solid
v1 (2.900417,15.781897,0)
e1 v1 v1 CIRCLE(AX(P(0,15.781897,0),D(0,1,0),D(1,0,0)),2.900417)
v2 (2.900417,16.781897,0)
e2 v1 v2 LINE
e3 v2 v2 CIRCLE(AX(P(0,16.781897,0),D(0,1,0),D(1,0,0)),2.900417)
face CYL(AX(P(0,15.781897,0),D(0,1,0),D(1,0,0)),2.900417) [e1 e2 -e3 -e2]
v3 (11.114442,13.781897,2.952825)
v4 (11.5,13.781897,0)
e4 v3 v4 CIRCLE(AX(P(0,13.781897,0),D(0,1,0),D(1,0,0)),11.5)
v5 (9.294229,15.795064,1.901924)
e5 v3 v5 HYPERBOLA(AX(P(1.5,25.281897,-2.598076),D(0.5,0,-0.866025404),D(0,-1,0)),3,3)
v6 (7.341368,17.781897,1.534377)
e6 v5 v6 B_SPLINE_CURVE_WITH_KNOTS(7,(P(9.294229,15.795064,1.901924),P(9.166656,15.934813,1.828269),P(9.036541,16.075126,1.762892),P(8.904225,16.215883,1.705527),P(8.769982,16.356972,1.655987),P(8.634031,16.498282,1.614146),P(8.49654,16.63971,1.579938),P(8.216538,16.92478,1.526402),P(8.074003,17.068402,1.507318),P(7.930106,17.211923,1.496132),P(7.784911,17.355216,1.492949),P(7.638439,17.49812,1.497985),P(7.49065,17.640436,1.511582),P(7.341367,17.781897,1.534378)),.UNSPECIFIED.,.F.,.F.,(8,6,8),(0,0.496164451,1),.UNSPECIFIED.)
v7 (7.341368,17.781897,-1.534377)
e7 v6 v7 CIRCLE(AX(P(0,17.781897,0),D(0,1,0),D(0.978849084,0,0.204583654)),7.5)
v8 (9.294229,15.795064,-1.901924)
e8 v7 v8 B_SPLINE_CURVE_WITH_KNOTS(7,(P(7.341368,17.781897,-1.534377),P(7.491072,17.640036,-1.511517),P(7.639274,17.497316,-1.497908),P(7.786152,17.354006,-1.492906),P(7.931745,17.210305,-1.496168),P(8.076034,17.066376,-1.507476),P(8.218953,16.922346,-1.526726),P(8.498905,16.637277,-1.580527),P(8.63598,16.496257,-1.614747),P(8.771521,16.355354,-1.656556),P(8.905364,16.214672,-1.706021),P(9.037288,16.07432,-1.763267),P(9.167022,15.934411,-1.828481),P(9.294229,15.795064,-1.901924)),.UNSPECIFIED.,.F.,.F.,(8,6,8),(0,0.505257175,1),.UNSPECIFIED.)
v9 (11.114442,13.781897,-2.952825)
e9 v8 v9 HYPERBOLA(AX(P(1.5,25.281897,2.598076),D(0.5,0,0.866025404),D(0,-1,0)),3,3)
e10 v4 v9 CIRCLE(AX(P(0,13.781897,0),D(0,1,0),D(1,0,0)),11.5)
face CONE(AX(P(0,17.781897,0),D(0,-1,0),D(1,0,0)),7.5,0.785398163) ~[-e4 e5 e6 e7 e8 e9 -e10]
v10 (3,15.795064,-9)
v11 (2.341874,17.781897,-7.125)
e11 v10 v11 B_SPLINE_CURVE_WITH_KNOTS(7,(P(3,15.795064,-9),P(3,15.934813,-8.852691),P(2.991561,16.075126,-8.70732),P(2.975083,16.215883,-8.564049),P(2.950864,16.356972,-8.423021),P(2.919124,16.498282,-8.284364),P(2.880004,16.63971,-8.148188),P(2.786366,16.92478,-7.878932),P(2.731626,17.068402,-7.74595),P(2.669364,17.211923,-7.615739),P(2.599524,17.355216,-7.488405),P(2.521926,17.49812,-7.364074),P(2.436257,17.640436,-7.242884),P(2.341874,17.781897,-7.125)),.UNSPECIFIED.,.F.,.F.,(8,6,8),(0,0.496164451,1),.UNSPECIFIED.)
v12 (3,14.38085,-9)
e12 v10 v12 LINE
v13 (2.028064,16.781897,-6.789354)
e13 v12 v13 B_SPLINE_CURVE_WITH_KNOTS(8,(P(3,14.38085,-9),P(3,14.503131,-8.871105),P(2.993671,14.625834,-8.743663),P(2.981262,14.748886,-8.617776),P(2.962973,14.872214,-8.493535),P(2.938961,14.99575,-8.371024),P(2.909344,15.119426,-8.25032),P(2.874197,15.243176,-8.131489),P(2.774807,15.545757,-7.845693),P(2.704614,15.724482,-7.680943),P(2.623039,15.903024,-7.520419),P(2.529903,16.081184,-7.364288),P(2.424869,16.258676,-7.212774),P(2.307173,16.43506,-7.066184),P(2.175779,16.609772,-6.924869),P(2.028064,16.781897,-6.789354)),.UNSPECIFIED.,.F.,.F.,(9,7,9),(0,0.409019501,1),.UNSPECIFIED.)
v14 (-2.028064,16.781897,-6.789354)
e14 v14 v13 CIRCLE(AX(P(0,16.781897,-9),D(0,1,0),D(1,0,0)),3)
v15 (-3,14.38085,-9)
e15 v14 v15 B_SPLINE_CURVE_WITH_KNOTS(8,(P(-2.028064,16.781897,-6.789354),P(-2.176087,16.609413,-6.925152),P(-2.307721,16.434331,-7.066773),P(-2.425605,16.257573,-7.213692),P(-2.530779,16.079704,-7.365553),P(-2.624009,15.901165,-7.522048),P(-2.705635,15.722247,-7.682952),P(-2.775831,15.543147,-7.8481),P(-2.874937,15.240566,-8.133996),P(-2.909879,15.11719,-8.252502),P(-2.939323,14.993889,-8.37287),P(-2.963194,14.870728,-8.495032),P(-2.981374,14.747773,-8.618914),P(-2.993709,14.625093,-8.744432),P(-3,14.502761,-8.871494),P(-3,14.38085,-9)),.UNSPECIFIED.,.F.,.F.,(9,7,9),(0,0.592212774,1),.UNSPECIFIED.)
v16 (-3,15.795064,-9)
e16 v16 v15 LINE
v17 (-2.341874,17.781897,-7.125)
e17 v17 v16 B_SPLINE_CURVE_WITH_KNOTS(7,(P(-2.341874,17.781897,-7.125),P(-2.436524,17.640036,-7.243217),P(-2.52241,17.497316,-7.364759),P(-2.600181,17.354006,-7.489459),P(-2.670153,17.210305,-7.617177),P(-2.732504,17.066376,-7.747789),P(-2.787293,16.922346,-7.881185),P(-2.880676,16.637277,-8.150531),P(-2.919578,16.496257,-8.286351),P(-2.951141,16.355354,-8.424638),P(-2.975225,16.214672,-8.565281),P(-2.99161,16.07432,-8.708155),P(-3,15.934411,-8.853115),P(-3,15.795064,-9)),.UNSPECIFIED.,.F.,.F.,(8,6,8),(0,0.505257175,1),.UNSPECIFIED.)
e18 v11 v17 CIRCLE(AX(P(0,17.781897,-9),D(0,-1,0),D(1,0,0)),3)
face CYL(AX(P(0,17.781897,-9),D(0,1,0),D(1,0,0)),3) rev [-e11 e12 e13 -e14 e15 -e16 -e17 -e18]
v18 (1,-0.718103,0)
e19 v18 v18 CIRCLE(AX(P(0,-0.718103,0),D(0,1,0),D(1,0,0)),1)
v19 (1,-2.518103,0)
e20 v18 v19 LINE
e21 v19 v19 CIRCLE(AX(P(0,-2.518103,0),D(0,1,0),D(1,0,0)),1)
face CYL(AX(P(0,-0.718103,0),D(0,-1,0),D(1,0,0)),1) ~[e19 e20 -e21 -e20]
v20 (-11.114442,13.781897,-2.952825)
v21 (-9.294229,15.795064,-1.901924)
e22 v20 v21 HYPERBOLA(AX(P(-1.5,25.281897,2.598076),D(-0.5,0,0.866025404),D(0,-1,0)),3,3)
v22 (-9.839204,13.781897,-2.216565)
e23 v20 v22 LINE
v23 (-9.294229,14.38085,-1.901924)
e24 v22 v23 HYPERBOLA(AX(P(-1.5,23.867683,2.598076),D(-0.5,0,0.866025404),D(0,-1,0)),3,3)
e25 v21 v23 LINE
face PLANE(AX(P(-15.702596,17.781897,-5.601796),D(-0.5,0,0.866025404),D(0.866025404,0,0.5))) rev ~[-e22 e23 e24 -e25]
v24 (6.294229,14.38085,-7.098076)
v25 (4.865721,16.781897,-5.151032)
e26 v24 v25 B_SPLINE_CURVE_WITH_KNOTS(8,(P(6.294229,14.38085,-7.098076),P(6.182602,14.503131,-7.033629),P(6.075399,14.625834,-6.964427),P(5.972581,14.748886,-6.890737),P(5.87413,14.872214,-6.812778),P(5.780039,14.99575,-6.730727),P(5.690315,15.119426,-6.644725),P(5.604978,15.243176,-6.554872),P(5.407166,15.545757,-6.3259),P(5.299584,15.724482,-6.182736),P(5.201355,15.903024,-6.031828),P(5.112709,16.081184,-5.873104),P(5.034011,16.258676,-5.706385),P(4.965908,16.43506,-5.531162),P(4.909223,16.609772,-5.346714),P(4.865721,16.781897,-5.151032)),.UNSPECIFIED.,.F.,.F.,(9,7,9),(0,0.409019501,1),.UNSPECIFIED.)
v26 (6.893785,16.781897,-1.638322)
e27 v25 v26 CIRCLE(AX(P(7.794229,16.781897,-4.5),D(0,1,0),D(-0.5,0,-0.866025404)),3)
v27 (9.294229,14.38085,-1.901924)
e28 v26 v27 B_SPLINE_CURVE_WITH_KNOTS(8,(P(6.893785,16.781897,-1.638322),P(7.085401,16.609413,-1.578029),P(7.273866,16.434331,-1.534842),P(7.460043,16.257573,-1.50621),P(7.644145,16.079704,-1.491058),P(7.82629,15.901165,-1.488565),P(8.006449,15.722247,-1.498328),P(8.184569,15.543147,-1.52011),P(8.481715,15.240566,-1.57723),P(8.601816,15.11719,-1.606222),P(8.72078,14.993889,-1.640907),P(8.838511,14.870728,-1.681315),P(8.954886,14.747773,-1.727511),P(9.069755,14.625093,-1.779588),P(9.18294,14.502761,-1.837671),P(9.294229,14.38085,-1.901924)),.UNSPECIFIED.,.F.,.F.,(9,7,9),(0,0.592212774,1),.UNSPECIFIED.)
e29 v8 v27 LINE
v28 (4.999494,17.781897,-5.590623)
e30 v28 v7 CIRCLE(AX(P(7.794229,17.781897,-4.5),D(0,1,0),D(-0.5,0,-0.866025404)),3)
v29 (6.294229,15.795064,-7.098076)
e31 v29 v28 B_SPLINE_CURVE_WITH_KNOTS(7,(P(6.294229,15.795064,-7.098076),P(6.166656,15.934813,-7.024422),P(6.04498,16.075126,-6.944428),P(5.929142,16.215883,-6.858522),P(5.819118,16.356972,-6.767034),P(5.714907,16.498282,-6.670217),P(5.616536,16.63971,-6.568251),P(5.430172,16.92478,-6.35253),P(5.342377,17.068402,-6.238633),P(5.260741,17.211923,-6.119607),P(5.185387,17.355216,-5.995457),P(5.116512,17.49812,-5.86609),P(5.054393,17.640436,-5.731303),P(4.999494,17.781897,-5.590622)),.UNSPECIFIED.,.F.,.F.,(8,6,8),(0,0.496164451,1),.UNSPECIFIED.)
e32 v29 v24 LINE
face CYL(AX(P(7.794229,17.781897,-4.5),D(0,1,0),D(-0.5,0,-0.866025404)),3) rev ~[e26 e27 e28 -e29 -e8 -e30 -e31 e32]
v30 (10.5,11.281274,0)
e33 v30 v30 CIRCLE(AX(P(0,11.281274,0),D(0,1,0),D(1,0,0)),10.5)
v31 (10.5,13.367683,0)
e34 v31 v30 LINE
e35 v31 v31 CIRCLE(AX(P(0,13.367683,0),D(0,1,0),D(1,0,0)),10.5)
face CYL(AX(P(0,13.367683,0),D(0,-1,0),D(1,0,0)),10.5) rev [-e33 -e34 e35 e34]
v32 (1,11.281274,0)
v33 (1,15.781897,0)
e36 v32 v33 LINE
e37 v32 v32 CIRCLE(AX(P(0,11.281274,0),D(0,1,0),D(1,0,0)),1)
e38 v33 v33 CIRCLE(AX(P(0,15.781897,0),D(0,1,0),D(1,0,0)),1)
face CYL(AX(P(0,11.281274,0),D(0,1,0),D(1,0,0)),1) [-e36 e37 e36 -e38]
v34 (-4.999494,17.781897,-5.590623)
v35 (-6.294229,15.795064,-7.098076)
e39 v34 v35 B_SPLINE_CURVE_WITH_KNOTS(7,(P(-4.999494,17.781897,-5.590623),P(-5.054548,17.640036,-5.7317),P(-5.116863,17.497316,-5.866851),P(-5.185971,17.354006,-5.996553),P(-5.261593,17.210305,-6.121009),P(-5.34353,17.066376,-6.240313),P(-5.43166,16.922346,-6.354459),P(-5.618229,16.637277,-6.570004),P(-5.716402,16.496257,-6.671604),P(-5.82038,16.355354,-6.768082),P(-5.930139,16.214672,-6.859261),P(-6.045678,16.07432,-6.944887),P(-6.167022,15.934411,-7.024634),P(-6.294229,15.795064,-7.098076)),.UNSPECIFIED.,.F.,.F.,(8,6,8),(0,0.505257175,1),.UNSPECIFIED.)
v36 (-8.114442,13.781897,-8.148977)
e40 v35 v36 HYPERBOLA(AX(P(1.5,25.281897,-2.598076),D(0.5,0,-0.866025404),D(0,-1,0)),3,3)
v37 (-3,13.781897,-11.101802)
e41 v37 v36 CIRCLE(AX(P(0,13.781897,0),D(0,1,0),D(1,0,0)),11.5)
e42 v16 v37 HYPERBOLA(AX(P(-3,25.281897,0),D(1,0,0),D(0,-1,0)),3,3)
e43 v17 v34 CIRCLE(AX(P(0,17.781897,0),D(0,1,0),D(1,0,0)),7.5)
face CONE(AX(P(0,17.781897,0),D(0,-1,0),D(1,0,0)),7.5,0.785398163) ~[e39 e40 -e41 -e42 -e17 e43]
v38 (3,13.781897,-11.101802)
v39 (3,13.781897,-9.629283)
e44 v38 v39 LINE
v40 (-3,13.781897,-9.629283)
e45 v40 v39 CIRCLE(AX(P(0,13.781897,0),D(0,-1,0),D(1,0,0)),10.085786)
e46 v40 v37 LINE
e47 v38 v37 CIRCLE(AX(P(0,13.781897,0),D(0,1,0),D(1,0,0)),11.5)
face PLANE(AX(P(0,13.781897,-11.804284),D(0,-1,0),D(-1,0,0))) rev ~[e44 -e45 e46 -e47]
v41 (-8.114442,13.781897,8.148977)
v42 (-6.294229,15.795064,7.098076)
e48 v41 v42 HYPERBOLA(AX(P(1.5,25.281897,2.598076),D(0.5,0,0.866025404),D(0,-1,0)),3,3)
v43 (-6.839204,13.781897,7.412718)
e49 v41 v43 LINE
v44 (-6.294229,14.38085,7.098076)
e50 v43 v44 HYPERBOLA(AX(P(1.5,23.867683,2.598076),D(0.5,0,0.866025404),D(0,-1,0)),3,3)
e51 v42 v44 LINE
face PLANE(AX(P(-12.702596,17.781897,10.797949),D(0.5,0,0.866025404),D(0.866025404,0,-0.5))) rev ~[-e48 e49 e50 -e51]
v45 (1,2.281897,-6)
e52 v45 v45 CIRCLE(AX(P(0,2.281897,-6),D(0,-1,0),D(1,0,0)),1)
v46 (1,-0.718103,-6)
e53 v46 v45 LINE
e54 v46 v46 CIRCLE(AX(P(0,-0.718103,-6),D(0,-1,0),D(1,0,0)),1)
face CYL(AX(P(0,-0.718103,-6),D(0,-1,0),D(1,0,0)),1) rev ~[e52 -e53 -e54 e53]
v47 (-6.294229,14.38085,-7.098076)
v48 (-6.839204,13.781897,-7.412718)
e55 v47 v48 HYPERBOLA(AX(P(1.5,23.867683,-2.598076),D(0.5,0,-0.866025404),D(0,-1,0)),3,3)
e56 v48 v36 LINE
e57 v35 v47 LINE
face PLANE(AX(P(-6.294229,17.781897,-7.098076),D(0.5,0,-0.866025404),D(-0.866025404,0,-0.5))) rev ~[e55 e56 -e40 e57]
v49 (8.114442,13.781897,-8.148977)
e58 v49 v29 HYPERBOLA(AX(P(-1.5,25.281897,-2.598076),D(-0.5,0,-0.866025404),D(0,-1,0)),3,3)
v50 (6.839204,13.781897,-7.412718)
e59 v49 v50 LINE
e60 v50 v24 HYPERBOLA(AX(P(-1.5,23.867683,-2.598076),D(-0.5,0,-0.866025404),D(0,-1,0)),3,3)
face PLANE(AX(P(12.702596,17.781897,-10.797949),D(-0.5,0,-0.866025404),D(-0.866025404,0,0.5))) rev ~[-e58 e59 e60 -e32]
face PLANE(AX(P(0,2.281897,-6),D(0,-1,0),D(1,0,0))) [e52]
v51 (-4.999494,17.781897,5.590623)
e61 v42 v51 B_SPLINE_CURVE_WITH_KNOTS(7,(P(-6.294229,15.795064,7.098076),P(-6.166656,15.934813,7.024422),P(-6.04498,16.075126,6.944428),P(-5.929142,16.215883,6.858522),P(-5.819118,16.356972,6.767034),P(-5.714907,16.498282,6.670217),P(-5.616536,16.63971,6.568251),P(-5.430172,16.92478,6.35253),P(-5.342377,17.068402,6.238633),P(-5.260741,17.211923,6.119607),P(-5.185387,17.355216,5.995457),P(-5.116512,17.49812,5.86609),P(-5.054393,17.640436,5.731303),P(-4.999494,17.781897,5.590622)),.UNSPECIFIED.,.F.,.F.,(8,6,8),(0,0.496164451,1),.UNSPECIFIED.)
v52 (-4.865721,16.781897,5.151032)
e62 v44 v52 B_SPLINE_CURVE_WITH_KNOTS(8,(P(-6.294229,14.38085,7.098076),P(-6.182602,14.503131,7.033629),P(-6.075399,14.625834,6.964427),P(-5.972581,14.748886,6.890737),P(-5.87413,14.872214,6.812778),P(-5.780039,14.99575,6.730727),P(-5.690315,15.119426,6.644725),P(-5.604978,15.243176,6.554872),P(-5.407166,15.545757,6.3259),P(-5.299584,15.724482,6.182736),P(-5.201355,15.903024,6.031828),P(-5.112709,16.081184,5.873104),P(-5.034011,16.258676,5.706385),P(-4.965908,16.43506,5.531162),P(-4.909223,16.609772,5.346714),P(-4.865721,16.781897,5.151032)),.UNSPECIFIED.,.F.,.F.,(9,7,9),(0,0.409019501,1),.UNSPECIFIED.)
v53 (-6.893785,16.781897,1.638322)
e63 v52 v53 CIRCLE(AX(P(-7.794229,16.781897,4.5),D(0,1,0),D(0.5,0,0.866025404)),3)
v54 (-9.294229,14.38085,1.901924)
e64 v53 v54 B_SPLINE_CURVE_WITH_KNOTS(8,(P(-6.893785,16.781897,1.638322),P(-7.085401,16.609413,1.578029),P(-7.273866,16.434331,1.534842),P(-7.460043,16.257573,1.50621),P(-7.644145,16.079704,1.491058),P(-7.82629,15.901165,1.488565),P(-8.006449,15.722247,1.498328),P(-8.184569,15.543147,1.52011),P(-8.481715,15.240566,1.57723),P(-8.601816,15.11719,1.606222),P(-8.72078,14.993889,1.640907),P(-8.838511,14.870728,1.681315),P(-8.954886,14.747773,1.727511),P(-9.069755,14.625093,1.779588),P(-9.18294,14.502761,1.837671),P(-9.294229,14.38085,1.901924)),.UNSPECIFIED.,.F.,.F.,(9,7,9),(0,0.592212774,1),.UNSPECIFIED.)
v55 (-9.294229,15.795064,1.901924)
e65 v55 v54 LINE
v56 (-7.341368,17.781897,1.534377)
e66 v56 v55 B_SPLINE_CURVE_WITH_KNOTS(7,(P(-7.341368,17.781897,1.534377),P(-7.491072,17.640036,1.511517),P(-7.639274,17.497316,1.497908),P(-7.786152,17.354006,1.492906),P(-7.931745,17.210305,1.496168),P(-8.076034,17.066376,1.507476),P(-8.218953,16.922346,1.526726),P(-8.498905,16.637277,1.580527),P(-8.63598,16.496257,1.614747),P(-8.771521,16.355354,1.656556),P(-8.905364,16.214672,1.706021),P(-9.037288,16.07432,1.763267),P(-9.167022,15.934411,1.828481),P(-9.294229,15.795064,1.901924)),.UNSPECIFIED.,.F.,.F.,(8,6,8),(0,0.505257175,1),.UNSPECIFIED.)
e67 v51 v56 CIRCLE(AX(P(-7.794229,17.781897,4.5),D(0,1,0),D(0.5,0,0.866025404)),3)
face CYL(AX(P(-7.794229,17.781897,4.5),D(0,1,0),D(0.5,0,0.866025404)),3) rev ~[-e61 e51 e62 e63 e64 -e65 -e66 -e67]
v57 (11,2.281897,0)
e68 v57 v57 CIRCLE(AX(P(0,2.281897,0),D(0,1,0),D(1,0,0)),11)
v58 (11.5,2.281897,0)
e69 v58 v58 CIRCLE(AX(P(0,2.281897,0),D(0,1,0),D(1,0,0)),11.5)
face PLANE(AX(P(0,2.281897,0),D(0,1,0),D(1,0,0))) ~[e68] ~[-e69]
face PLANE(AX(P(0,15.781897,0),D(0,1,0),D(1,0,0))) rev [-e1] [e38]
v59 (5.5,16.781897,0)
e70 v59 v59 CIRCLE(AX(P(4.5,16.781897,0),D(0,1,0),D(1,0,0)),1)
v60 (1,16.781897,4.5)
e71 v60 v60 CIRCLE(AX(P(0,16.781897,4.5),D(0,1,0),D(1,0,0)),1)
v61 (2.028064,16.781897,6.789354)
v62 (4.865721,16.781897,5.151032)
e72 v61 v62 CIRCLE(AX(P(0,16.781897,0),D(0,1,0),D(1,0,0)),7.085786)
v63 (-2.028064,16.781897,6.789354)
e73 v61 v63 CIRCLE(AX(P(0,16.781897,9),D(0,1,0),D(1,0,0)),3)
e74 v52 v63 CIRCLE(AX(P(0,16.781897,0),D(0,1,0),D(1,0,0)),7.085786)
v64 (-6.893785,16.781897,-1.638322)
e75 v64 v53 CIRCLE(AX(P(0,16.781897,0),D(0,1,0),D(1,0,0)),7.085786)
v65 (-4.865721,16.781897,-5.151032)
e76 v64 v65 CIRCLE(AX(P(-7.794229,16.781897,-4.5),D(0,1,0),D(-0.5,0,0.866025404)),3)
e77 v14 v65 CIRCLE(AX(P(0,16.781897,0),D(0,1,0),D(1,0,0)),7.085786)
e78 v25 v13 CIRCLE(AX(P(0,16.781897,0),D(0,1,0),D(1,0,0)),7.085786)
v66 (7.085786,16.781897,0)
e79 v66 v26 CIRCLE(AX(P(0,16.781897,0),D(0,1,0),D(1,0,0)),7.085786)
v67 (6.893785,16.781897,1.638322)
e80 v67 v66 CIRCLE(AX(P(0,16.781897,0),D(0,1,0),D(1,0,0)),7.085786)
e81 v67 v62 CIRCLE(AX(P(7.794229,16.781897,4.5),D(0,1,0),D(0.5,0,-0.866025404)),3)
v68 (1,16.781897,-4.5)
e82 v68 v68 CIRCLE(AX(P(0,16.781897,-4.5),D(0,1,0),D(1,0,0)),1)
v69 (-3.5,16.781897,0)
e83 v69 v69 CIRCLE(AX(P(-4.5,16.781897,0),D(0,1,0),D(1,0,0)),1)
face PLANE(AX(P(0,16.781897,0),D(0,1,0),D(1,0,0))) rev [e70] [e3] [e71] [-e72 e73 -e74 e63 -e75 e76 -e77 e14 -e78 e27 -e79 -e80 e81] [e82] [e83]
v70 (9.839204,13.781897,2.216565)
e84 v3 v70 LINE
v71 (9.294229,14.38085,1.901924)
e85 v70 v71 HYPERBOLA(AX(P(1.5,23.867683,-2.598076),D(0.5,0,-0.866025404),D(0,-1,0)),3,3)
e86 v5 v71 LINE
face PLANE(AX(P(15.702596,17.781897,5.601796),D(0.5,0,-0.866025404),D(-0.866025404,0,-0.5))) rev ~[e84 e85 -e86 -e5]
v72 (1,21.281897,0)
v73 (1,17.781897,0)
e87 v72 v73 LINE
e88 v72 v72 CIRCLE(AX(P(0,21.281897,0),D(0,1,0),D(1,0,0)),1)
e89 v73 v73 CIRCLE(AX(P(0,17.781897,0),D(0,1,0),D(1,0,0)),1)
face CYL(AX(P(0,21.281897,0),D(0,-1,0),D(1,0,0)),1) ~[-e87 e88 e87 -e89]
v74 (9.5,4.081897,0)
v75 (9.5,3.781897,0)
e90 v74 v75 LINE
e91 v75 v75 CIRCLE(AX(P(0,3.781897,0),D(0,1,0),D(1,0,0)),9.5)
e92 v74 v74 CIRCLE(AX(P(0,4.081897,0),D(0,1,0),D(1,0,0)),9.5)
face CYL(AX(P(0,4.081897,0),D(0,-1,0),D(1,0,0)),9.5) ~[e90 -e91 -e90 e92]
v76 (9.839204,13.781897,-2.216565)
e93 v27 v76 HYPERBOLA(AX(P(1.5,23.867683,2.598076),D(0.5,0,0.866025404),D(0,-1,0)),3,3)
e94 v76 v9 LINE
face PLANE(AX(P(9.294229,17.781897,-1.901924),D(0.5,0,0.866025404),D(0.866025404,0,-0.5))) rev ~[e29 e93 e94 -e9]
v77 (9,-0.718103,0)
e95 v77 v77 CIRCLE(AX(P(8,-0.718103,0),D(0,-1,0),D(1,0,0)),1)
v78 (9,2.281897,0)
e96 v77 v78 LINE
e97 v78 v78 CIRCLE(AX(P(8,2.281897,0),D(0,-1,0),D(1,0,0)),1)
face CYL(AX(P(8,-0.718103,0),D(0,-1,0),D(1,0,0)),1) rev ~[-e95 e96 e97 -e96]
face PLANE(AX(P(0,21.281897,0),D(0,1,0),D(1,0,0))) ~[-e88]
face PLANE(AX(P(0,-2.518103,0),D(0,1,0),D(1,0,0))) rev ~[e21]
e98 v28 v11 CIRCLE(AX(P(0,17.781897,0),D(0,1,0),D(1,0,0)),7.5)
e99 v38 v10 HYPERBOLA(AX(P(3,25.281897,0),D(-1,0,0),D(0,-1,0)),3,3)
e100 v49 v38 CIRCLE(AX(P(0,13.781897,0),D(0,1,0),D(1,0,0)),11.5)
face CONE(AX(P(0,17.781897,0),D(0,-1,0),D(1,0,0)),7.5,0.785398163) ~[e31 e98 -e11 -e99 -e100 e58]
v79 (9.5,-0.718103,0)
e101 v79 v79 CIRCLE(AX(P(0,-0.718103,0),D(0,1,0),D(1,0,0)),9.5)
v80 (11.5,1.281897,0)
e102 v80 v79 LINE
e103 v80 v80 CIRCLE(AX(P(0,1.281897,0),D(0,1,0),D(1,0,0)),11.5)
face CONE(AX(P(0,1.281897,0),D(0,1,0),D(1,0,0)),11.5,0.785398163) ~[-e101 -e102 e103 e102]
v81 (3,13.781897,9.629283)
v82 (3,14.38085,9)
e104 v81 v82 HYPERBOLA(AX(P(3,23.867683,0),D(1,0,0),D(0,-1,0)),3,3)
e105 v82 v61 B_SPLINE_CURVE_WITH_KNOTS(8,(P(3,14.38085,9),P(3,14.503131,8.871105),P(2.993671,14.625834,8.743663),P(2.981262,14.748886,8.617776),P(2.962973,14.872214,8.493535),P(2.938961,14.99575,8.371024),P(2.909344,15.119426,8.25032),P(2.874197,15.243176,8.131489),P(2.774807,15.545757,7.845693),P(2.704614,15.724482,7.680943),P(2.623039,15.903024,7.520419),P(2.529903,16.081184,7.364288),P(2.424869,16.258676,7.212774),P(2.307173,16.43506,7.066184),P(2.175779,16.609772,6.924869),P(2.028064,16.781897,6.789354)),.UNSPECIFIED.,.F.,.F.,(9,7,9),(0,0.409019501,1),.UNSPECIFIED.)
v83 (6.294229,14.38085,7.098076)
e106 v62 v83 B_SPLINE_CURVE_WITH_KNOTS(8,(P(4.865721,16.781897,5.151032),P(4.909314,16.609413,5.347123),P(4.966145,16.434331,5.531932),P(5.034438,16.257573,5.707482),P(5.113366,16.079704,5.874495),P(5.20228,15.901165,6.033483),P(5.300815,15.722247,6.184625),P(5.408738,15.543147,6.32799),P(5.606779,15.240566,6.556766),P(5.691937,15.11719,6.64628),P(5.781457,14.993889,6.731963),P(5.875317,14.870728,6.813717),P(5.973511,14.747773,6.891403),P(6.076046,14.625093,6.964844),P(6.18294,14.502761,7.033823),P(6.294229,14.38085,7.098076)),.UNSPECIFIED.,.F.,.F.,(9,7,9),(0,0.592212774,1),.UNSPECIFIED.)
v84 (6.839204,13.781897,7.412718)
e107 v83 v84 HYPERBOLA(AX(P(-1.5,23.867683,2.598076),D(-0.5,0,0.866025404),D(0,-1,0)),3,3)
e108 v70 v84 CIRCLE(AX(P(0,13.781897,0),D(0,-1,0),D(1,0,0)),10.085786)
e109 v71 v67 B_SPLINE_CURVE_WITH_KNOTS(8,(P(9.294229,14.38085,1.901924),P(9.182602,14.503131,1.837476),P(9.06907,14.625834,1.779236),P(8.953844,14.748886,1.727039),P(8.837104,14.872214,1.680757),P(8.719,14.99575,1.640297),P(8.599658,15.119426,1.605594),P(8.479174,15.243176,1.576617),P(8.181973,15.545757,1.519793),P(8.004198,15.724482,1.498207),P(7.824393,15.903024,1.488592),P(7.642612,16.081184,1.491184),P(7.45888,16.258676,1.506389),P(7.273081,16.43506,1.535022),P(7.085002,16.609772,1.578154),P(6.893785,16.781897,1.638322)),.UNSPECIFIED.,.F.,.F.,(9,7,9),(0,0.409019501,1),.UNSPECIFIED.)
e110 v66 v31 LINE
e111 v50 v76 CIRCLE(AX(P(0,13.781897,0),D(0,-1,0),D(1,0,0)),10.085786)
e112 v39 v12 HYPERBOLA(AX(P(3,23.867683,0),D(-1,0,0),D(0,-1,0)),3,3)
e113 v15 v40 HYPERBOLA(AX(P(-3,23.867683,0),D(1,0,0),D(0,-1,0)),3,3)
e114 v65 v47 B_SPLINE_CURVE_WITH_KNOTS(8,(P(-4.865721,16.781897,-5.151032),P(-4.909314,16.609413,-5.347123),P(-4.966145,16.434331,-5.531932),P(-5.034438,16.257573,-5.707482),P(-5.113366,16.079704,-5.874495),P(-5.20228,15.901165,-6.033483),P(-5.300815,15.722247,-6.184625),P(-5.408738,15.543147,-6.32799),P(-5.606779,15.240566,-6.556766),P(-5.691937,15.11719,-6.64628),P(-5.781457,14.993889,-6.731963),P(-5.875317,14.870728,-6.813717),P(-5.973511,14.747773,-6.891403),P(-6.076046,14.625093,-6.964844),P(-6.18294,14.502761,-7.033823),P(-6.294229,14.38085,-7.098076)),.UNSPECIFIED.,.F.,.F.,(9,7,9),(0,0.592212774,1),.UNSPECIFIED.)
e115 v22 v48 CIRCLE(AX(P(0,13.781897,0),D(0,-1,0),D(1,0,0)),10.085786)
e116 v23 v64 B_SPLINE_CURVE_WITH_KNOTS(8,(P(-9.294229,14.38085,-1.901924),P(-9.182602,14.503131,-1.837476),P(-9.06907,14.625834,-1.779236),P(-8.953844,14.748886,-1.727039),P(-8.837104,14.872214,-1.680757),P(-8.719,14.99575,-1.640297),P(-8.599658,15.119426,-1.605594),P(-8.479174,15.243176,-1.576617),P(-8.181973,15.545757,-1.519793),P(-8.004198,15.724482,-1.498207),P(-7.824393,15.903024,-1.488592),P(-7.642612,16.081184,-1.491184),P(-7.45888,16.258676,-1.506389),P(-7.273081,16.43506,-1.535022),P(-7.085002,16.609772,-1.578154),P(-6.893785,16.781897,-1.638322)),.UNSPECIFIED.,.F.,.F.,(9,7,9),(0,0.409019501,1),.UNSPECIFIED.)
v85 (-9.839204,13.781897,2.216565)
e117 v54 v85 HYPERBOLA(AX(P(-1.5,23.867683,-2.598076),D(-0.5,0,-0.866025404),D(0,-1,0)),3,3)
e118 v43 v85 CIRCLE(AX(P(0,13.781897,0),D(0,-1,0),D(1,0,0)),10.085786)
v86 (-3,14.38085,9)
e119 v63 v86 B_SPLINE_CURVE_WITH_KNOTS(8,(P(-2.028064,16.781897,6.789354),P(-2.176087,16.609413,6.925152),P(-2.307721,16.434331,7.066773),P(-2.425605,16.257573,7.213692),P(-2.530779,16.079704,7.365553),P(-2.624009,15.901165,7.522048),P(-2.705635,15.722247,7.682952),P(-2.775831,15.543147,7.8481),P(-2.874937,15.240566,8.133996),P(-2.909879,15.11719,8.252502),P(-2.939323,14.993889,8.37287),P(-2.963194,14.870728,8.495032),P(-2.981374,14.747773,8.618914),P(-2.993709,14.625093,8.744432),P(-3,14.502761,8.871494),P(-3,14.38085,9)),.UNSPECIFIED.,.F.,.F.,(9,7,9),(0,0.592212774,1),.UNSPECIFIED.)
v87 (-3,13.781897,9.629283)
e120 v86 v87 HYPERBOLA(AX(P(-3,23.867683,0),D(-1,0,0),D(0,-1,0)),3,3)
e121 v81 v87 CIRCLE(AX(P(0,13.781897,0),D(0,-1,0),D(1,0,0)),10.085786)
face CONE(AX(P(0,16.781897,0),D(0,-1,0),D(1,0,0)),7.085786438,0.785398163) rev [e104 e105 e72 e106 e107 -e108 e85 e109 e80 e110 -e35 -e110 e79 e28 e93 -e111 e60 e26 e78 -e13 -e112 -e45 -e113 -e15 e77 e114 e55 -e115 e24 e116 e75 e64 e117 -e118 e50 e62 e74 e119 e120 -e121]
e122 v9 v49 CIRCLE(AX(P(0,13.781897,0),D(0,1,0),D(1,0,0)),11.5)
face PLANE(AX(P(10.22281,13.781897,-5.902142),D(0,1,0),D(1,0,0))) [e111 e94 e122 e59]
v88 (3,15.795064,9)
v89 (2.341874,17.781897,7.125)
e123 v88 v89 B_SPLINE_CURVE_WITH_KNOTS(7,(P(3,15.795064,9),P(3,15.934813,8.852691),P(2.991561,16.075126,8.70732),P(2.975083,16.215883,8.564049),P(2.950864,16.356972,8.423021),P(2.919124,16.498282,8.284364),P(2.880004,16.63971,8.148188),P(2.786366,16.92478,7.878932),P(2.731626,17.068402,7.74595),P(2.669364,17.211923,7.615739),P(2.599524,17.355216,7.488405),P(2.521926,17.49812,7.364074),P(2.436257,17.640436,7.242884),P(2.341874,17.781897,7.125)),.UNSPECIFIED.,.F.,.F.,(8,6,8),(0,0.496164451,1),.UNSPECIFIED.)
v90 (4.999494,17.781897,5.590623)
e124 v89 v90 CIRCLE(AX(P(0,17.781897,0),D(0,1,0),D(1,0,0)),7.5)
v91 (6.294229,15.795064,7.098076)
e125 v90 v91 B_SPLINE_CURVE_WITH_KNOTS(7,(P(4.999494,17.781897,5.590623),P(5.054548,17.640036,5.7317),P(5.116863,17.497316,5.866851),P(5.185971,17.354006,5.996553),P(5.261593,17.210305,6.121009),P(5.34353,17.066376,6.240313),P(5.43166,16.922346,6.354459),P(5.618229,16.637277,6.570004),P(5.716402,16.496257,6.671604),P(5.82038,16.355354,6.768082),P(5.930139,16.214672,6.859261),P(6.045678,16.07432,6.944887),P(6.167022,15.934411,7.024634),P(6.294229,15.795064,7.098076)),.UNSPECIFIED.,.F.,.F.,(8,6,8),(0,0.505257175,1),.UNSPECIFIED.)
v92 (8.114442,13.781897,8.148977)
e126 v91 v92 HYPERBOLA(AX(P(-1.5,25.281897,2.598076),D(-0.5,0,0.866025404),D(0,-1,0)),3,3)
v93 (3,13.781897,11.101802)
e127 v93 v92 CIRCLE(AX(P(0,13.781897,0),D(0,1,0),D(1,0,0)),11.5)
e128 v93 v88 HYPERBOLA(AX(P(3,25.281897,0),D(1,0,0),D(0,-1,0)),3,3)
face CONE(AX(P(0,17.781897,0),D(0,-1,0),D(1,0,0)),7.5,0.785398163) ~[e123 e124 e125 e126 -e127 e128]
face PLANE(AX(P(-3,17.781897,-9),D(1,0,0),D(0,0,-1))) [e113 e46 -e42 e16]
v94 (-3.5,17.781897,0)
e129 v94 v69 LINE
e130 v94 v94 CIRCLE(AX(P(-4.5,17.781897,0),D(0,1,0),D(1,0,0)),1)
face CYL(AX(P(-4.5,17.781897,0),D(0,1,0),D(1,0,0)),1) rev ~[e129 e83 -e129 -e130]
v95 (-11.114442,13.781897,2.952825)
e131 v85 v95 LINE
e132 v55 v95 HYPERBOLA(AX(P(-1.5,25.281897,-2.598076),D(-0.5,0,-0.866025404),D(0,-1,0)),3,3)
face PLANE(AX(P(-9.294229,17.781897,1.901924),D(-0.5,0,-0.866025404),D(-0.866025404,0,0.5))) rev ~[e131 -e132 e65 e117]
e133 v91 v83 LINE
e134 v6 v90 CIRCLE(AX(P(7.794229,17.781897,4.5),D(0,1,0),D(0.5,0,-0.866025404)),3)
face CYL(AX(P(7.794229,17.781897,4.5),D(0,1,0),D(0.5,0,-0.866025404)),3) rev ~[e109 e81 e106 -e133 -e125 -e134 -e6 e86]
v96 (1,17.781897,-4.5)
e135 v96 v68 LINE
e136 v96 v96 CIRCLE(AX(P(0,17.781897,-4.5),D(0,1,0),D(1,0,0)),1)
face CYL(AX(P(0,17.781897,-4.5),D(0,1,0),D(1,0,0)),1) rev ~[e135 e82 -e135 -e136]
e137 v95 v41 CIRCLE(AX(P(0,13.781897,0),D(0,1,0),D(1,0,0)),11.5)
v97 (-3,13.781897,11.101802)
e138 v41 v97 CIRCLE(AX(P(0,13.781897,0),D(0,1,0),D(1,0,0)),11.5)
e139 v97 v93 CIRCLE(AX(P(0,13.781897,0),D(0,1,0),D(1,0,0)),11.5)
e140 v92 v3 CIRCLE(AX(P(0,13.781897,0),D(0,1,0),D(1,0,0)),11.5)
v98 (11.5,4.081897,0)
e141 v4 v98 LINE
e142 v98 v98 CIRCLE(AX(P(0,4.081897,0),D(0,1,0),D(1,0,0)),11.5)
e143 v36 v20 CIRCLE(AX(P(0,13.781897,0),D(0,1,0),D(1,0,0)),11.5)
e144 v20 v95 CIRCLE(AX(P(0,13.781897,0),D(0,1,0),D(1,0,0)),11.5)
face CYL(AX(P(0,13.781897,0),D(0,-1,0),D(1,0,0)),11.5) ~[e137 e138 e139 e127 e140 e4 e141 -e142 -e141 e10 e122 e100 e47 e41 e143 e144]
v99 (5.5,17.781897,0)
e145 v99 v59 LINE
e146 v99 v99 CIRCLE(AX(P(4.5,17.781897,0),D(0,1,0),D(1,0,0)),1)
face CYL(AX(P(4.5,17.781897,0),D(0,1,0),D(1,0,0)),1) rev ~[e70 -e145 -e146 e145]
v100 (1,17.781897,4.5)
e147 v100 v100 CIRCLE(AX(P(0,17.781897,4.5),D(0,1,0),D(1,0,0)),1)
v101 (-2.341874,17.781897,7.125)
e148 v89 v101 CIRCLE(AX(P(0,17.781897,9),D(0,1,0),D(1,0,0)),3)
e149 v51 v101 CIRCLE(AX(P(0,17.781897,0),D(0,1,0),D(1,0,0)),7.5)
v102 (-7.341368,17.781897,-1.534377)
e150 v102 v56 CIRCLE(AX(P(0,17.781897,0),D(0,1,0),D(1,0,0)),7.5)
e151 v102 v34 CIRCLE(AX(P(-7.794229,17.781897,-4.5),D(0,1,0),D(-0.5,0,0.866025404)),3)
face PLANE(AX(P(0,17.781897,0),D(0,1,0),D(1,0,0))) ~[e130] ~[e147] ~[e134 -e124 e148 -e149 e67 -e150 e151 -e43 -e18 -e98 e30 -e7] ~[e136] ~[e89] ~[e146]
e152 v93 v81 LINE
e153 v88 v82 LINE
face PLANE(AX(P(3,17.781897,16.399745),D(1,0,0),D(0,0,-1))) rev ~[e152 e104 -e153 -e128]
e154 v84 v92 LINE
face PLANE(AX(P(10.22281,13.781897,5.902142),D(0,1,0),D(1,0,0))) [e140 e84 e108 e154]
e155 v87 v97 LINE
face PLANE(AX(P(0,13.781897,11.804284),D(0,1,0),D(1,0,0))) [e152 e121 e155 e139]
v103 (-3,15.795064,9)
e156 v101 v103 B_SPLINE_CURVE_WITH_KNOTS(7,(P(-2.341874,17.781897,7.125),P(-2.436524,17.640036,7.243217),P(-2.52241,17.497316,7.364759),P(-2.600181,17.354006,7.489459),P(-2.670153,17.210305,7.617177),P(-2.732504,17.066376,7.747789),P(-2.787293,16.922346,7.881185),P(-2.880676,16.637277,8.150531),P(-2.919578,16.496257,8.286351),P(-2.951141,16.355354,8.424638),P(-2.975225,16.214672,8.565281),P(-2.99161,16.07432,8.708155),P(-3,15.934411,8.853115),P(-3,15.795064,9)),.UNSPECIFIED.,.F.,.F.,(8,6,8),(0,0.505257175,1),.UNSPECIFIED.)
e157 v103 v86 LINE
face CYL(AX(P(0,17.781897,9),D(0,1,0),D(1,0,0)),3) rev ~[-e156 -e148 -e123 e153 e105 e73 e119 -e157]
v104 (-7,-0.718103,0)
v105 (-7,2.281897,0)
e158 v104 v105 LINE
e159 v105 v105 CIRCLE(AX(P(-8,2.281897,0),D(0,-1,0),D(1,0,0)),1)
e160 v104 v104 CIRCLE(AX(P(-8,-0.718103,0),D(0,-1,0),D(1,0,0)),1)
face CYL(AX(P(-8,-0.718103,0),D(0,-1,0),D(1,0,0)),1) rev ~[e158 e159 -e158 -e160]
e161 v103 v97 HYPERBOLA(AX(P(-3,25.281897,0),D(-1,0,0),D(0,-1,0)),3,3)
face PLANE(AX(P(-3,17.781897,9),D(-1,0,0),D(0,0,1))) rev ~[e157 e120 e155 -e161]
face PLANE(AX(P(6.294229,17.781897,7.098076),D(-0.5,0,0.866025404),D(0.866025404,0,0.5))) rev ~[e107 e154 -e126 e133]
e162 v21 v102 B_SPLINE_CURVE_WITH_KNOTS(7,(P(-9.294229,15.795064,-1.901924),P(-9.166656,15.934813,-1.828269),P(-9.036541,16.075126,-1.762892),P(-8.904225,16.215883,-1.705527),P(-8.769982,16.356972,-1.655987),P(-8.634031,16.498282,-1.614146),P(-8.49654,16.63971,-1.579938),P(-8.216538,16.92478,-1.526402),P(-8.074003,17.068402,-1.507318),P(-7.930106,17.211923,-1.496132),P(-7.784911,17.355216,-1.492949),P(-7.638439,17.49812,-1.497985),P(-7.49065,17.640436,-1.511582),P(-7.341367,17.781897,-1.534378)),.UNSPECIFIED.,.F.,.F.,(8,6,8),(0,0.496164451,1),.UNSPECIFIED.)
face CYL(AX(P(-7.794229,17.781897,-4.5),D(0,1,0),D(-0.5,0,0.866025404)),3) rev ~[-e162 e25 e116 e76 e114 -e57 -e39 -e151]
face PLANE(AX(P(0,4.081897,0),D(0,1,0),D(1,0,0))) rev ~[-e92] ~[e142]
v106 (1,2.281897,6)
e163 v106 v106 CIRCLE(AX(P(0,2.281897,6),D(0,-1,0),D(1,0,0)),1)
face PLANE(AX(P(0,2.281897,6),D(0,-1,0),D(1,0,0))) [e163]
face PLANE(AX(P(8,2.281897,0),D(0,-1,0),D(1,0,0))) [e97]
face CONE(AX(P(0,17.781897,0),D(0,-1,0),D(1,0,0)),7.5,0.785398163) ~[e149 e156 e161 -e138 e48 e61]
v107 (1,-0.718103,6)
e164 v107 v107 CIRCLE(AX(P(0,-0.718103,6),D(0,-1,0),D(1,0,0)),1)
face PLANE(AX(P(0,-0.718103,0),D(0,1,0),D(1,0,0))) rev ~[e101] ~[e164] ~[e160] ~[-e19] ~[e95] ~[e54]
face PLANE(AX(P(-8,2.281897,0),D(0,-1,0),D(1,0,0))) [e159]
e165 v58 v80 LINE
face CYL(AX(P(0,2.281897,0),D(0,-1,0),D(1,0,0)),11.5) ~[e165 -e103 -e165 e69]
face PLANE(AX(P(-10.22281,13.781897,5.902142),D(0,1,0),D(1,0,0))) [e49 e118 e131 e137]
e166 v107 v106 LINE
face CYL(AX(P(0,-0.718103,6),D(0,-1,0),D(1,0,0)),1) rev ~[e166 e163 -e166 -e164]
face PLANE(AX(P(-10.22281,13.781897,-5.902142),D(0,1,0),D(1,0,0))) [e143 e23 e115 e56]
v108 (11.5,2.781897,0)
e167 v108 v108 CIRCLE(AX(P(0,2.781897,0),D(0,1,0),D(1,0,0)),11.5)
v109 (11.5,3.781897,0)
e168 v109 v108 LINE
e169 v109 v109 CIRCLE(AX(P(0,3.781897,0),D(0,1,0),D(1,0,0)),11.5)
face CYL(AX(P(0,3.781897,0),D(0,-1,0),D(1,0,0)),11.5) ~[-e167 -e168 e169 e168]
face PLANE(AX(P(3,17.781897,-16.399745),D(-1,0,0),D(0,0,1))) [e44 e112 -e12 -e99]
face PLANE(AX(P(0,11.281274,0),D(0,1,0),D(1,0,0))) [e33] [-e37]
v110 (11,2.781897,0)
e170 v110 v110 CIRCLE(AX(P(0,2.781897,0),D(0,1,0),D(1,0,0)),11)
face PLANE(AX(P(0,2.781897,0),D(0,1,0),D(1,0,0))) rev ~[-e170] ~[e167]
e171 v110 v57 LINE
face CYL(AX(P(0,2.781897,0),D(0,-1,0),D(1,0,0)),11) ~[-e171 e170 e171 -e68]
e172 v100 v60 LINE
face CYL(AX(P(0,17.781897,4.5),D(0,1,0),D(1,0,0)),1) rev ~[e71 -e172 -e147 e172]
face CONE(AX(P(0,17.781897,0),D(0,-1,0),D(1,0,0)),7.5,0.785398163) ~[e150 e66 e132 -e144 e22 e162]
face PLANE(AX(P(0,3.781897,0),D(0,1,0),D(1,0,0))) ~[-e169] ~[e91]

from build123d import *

# Parameters (mm, degrees)
SKETCH2_R          = 1
CUT_EXTRUDE1_DEPTH = 4
SKETCH3_R          = 1
CUT_EXTRUDE2_DEPTH = 3


with BuildPart() as part:
    # Sketch1 → Revolve1 (revolve)
    with BuildSketch(Plane.XY):
        Polygon((0, 0), (0, 21.281896562), (1, 21.281896562), (1, 17.781896562), (7.5, 17.781896562), (11.5, 13.781896562), (11.5, 4.081896562), (9.5, 4.081896562), (9.5, 3.781896562), (11.5, 3.781896562), (11.5, 2.781896562), (11, 2.781896562), (11, 2.281896562), (11.5, 2.281896562), (11.5, 1.281896562), (9.5, -0.718103438), (1, -0.718103438), (1, -2.518103438), (0, -2.518103438), align=None)
        Polygon((2.900417255, 16.781896562), (7.085786438, 16.781896562), (10.5, 13.367683), (10.5, 11.281274074), (1, 11.281274074), (1, 15.781896562), (2.900417255, 15.781896562), align=None, mode=Mode.SUBTRACT)
    revolve(axis=Axis((0, 0, 0), (0, 1, 0)))

    # Sketch2 → Cut-Extrude1 (cut)
    with BuildSketch(Plane(origin=(0, 17.781896562, 0), x_dir=(1, 0, 0), z_dir=(0, 1, 0))):
        with Locations((0, -4.5)):
            Circle(SKETCH2_R)
        with Locations((-4.5, 0)):
            Circle(SKETCH2_R)
        with Locations((0, 4.5)):
            Circle(SKETCH2_R)
        with Locations((4.5, 0)):
            Circle(SKETCH2_R)
        with BuildLine():
            Line((9.294228634, 1.901923789), (15.702595712, 5.601796246))
            Line((15.702595712, 5.601796246), (12.702595712, 10.797948669))
            Line((12.702595712, 10.797948669), (6.294228634, 7.098076211))
            ThreePointArc((6.294228634, 7.098076211), (5.196152423, 3), (9.294228634, 1.901923789))
        make_face()
        with BuildLine():
            Line((-3, 9), (-3, 16.399744914))
            Line((-3, 16.399744914), (3, 16.399744914))
            Line((3, 16.399744914), (3, 9))
            ThreePointArc((3, 9), (0, 6), (-3, 9))
        make_face()
        with BuildLine():
            Line((6.294228634, -7.098076211), (12.702595712, -10.797948669))
            Line((12.702595712, -10.797948669), (15.702595712, -5.601796246))
            Line((15.702595712, -5.601796246), (9.294228634, -1.901923789))
            ThreePointArc((9.294228634, -1.901923789), (5.196152423, -3), (6.294228634, -7.098076211))
        make_face()
        with BuildLine():
            Line((-3, -9), (-3, -16.399744914))
            Line((-3, -16.399744914), (3, -16.399744914))
            Line((3, -16.399744914), (3, -9))
            ThreePointArc((3, -9), (0, -6), (-3, -9))
        make_face()
        with BuildLine():
            Line((-9.294228634, -1.901923789), (-15.702595711, -5.601796246))
            Line((-15.702595711, -5.601796246), (-12.702595711, -10.797948669))
            Line((-12.702595711, -10.797948669), (-6.294228634, -7.098076211))
            ThreePointArc((-6.294228634, -7.098076211), (-5.196152423, -3), (-9.294228634, -1.901923789))
        make_face()
        with BuildLine():
            Line((-6.294228634, 7.098076211), (-12.702595712, 10.797948669))
            Line((-12.702595712, 10.797948669), (-15.702595712, 5.601796246))
            Line((-15.702595712, 5.601796246), (-9.294228634, 1.901923789))
            ThreePointArc((-9.294228634, 1.901923789), (-5.196152423, 3), (-6.294228634, 7.098076211))
        make_face()
    extrude(amount=-CUT_EXTRUDE1_DEPTH, mode=Mode.SUBTRACT)

    # Sketch3 → Cut-Extrude2 (cut)
    with BuildSketch(Plane.XZ.offset(0.718103438)):
        with Locations((8, 0)):
            Circle(SKETCH3_R)
        with Locations((-8, 0)):
            Circle(SKETCH3_R)
        with Locations((0, 6)):
            Circle(SKETCH3_R)
        with Locations((0, -6)):
            Circle(SKETCH3_R)
    extrude(amount=-CUT_EXTRUDE2_DEPTH, mode=Mode.SUBTRACT)


solid = part.part
